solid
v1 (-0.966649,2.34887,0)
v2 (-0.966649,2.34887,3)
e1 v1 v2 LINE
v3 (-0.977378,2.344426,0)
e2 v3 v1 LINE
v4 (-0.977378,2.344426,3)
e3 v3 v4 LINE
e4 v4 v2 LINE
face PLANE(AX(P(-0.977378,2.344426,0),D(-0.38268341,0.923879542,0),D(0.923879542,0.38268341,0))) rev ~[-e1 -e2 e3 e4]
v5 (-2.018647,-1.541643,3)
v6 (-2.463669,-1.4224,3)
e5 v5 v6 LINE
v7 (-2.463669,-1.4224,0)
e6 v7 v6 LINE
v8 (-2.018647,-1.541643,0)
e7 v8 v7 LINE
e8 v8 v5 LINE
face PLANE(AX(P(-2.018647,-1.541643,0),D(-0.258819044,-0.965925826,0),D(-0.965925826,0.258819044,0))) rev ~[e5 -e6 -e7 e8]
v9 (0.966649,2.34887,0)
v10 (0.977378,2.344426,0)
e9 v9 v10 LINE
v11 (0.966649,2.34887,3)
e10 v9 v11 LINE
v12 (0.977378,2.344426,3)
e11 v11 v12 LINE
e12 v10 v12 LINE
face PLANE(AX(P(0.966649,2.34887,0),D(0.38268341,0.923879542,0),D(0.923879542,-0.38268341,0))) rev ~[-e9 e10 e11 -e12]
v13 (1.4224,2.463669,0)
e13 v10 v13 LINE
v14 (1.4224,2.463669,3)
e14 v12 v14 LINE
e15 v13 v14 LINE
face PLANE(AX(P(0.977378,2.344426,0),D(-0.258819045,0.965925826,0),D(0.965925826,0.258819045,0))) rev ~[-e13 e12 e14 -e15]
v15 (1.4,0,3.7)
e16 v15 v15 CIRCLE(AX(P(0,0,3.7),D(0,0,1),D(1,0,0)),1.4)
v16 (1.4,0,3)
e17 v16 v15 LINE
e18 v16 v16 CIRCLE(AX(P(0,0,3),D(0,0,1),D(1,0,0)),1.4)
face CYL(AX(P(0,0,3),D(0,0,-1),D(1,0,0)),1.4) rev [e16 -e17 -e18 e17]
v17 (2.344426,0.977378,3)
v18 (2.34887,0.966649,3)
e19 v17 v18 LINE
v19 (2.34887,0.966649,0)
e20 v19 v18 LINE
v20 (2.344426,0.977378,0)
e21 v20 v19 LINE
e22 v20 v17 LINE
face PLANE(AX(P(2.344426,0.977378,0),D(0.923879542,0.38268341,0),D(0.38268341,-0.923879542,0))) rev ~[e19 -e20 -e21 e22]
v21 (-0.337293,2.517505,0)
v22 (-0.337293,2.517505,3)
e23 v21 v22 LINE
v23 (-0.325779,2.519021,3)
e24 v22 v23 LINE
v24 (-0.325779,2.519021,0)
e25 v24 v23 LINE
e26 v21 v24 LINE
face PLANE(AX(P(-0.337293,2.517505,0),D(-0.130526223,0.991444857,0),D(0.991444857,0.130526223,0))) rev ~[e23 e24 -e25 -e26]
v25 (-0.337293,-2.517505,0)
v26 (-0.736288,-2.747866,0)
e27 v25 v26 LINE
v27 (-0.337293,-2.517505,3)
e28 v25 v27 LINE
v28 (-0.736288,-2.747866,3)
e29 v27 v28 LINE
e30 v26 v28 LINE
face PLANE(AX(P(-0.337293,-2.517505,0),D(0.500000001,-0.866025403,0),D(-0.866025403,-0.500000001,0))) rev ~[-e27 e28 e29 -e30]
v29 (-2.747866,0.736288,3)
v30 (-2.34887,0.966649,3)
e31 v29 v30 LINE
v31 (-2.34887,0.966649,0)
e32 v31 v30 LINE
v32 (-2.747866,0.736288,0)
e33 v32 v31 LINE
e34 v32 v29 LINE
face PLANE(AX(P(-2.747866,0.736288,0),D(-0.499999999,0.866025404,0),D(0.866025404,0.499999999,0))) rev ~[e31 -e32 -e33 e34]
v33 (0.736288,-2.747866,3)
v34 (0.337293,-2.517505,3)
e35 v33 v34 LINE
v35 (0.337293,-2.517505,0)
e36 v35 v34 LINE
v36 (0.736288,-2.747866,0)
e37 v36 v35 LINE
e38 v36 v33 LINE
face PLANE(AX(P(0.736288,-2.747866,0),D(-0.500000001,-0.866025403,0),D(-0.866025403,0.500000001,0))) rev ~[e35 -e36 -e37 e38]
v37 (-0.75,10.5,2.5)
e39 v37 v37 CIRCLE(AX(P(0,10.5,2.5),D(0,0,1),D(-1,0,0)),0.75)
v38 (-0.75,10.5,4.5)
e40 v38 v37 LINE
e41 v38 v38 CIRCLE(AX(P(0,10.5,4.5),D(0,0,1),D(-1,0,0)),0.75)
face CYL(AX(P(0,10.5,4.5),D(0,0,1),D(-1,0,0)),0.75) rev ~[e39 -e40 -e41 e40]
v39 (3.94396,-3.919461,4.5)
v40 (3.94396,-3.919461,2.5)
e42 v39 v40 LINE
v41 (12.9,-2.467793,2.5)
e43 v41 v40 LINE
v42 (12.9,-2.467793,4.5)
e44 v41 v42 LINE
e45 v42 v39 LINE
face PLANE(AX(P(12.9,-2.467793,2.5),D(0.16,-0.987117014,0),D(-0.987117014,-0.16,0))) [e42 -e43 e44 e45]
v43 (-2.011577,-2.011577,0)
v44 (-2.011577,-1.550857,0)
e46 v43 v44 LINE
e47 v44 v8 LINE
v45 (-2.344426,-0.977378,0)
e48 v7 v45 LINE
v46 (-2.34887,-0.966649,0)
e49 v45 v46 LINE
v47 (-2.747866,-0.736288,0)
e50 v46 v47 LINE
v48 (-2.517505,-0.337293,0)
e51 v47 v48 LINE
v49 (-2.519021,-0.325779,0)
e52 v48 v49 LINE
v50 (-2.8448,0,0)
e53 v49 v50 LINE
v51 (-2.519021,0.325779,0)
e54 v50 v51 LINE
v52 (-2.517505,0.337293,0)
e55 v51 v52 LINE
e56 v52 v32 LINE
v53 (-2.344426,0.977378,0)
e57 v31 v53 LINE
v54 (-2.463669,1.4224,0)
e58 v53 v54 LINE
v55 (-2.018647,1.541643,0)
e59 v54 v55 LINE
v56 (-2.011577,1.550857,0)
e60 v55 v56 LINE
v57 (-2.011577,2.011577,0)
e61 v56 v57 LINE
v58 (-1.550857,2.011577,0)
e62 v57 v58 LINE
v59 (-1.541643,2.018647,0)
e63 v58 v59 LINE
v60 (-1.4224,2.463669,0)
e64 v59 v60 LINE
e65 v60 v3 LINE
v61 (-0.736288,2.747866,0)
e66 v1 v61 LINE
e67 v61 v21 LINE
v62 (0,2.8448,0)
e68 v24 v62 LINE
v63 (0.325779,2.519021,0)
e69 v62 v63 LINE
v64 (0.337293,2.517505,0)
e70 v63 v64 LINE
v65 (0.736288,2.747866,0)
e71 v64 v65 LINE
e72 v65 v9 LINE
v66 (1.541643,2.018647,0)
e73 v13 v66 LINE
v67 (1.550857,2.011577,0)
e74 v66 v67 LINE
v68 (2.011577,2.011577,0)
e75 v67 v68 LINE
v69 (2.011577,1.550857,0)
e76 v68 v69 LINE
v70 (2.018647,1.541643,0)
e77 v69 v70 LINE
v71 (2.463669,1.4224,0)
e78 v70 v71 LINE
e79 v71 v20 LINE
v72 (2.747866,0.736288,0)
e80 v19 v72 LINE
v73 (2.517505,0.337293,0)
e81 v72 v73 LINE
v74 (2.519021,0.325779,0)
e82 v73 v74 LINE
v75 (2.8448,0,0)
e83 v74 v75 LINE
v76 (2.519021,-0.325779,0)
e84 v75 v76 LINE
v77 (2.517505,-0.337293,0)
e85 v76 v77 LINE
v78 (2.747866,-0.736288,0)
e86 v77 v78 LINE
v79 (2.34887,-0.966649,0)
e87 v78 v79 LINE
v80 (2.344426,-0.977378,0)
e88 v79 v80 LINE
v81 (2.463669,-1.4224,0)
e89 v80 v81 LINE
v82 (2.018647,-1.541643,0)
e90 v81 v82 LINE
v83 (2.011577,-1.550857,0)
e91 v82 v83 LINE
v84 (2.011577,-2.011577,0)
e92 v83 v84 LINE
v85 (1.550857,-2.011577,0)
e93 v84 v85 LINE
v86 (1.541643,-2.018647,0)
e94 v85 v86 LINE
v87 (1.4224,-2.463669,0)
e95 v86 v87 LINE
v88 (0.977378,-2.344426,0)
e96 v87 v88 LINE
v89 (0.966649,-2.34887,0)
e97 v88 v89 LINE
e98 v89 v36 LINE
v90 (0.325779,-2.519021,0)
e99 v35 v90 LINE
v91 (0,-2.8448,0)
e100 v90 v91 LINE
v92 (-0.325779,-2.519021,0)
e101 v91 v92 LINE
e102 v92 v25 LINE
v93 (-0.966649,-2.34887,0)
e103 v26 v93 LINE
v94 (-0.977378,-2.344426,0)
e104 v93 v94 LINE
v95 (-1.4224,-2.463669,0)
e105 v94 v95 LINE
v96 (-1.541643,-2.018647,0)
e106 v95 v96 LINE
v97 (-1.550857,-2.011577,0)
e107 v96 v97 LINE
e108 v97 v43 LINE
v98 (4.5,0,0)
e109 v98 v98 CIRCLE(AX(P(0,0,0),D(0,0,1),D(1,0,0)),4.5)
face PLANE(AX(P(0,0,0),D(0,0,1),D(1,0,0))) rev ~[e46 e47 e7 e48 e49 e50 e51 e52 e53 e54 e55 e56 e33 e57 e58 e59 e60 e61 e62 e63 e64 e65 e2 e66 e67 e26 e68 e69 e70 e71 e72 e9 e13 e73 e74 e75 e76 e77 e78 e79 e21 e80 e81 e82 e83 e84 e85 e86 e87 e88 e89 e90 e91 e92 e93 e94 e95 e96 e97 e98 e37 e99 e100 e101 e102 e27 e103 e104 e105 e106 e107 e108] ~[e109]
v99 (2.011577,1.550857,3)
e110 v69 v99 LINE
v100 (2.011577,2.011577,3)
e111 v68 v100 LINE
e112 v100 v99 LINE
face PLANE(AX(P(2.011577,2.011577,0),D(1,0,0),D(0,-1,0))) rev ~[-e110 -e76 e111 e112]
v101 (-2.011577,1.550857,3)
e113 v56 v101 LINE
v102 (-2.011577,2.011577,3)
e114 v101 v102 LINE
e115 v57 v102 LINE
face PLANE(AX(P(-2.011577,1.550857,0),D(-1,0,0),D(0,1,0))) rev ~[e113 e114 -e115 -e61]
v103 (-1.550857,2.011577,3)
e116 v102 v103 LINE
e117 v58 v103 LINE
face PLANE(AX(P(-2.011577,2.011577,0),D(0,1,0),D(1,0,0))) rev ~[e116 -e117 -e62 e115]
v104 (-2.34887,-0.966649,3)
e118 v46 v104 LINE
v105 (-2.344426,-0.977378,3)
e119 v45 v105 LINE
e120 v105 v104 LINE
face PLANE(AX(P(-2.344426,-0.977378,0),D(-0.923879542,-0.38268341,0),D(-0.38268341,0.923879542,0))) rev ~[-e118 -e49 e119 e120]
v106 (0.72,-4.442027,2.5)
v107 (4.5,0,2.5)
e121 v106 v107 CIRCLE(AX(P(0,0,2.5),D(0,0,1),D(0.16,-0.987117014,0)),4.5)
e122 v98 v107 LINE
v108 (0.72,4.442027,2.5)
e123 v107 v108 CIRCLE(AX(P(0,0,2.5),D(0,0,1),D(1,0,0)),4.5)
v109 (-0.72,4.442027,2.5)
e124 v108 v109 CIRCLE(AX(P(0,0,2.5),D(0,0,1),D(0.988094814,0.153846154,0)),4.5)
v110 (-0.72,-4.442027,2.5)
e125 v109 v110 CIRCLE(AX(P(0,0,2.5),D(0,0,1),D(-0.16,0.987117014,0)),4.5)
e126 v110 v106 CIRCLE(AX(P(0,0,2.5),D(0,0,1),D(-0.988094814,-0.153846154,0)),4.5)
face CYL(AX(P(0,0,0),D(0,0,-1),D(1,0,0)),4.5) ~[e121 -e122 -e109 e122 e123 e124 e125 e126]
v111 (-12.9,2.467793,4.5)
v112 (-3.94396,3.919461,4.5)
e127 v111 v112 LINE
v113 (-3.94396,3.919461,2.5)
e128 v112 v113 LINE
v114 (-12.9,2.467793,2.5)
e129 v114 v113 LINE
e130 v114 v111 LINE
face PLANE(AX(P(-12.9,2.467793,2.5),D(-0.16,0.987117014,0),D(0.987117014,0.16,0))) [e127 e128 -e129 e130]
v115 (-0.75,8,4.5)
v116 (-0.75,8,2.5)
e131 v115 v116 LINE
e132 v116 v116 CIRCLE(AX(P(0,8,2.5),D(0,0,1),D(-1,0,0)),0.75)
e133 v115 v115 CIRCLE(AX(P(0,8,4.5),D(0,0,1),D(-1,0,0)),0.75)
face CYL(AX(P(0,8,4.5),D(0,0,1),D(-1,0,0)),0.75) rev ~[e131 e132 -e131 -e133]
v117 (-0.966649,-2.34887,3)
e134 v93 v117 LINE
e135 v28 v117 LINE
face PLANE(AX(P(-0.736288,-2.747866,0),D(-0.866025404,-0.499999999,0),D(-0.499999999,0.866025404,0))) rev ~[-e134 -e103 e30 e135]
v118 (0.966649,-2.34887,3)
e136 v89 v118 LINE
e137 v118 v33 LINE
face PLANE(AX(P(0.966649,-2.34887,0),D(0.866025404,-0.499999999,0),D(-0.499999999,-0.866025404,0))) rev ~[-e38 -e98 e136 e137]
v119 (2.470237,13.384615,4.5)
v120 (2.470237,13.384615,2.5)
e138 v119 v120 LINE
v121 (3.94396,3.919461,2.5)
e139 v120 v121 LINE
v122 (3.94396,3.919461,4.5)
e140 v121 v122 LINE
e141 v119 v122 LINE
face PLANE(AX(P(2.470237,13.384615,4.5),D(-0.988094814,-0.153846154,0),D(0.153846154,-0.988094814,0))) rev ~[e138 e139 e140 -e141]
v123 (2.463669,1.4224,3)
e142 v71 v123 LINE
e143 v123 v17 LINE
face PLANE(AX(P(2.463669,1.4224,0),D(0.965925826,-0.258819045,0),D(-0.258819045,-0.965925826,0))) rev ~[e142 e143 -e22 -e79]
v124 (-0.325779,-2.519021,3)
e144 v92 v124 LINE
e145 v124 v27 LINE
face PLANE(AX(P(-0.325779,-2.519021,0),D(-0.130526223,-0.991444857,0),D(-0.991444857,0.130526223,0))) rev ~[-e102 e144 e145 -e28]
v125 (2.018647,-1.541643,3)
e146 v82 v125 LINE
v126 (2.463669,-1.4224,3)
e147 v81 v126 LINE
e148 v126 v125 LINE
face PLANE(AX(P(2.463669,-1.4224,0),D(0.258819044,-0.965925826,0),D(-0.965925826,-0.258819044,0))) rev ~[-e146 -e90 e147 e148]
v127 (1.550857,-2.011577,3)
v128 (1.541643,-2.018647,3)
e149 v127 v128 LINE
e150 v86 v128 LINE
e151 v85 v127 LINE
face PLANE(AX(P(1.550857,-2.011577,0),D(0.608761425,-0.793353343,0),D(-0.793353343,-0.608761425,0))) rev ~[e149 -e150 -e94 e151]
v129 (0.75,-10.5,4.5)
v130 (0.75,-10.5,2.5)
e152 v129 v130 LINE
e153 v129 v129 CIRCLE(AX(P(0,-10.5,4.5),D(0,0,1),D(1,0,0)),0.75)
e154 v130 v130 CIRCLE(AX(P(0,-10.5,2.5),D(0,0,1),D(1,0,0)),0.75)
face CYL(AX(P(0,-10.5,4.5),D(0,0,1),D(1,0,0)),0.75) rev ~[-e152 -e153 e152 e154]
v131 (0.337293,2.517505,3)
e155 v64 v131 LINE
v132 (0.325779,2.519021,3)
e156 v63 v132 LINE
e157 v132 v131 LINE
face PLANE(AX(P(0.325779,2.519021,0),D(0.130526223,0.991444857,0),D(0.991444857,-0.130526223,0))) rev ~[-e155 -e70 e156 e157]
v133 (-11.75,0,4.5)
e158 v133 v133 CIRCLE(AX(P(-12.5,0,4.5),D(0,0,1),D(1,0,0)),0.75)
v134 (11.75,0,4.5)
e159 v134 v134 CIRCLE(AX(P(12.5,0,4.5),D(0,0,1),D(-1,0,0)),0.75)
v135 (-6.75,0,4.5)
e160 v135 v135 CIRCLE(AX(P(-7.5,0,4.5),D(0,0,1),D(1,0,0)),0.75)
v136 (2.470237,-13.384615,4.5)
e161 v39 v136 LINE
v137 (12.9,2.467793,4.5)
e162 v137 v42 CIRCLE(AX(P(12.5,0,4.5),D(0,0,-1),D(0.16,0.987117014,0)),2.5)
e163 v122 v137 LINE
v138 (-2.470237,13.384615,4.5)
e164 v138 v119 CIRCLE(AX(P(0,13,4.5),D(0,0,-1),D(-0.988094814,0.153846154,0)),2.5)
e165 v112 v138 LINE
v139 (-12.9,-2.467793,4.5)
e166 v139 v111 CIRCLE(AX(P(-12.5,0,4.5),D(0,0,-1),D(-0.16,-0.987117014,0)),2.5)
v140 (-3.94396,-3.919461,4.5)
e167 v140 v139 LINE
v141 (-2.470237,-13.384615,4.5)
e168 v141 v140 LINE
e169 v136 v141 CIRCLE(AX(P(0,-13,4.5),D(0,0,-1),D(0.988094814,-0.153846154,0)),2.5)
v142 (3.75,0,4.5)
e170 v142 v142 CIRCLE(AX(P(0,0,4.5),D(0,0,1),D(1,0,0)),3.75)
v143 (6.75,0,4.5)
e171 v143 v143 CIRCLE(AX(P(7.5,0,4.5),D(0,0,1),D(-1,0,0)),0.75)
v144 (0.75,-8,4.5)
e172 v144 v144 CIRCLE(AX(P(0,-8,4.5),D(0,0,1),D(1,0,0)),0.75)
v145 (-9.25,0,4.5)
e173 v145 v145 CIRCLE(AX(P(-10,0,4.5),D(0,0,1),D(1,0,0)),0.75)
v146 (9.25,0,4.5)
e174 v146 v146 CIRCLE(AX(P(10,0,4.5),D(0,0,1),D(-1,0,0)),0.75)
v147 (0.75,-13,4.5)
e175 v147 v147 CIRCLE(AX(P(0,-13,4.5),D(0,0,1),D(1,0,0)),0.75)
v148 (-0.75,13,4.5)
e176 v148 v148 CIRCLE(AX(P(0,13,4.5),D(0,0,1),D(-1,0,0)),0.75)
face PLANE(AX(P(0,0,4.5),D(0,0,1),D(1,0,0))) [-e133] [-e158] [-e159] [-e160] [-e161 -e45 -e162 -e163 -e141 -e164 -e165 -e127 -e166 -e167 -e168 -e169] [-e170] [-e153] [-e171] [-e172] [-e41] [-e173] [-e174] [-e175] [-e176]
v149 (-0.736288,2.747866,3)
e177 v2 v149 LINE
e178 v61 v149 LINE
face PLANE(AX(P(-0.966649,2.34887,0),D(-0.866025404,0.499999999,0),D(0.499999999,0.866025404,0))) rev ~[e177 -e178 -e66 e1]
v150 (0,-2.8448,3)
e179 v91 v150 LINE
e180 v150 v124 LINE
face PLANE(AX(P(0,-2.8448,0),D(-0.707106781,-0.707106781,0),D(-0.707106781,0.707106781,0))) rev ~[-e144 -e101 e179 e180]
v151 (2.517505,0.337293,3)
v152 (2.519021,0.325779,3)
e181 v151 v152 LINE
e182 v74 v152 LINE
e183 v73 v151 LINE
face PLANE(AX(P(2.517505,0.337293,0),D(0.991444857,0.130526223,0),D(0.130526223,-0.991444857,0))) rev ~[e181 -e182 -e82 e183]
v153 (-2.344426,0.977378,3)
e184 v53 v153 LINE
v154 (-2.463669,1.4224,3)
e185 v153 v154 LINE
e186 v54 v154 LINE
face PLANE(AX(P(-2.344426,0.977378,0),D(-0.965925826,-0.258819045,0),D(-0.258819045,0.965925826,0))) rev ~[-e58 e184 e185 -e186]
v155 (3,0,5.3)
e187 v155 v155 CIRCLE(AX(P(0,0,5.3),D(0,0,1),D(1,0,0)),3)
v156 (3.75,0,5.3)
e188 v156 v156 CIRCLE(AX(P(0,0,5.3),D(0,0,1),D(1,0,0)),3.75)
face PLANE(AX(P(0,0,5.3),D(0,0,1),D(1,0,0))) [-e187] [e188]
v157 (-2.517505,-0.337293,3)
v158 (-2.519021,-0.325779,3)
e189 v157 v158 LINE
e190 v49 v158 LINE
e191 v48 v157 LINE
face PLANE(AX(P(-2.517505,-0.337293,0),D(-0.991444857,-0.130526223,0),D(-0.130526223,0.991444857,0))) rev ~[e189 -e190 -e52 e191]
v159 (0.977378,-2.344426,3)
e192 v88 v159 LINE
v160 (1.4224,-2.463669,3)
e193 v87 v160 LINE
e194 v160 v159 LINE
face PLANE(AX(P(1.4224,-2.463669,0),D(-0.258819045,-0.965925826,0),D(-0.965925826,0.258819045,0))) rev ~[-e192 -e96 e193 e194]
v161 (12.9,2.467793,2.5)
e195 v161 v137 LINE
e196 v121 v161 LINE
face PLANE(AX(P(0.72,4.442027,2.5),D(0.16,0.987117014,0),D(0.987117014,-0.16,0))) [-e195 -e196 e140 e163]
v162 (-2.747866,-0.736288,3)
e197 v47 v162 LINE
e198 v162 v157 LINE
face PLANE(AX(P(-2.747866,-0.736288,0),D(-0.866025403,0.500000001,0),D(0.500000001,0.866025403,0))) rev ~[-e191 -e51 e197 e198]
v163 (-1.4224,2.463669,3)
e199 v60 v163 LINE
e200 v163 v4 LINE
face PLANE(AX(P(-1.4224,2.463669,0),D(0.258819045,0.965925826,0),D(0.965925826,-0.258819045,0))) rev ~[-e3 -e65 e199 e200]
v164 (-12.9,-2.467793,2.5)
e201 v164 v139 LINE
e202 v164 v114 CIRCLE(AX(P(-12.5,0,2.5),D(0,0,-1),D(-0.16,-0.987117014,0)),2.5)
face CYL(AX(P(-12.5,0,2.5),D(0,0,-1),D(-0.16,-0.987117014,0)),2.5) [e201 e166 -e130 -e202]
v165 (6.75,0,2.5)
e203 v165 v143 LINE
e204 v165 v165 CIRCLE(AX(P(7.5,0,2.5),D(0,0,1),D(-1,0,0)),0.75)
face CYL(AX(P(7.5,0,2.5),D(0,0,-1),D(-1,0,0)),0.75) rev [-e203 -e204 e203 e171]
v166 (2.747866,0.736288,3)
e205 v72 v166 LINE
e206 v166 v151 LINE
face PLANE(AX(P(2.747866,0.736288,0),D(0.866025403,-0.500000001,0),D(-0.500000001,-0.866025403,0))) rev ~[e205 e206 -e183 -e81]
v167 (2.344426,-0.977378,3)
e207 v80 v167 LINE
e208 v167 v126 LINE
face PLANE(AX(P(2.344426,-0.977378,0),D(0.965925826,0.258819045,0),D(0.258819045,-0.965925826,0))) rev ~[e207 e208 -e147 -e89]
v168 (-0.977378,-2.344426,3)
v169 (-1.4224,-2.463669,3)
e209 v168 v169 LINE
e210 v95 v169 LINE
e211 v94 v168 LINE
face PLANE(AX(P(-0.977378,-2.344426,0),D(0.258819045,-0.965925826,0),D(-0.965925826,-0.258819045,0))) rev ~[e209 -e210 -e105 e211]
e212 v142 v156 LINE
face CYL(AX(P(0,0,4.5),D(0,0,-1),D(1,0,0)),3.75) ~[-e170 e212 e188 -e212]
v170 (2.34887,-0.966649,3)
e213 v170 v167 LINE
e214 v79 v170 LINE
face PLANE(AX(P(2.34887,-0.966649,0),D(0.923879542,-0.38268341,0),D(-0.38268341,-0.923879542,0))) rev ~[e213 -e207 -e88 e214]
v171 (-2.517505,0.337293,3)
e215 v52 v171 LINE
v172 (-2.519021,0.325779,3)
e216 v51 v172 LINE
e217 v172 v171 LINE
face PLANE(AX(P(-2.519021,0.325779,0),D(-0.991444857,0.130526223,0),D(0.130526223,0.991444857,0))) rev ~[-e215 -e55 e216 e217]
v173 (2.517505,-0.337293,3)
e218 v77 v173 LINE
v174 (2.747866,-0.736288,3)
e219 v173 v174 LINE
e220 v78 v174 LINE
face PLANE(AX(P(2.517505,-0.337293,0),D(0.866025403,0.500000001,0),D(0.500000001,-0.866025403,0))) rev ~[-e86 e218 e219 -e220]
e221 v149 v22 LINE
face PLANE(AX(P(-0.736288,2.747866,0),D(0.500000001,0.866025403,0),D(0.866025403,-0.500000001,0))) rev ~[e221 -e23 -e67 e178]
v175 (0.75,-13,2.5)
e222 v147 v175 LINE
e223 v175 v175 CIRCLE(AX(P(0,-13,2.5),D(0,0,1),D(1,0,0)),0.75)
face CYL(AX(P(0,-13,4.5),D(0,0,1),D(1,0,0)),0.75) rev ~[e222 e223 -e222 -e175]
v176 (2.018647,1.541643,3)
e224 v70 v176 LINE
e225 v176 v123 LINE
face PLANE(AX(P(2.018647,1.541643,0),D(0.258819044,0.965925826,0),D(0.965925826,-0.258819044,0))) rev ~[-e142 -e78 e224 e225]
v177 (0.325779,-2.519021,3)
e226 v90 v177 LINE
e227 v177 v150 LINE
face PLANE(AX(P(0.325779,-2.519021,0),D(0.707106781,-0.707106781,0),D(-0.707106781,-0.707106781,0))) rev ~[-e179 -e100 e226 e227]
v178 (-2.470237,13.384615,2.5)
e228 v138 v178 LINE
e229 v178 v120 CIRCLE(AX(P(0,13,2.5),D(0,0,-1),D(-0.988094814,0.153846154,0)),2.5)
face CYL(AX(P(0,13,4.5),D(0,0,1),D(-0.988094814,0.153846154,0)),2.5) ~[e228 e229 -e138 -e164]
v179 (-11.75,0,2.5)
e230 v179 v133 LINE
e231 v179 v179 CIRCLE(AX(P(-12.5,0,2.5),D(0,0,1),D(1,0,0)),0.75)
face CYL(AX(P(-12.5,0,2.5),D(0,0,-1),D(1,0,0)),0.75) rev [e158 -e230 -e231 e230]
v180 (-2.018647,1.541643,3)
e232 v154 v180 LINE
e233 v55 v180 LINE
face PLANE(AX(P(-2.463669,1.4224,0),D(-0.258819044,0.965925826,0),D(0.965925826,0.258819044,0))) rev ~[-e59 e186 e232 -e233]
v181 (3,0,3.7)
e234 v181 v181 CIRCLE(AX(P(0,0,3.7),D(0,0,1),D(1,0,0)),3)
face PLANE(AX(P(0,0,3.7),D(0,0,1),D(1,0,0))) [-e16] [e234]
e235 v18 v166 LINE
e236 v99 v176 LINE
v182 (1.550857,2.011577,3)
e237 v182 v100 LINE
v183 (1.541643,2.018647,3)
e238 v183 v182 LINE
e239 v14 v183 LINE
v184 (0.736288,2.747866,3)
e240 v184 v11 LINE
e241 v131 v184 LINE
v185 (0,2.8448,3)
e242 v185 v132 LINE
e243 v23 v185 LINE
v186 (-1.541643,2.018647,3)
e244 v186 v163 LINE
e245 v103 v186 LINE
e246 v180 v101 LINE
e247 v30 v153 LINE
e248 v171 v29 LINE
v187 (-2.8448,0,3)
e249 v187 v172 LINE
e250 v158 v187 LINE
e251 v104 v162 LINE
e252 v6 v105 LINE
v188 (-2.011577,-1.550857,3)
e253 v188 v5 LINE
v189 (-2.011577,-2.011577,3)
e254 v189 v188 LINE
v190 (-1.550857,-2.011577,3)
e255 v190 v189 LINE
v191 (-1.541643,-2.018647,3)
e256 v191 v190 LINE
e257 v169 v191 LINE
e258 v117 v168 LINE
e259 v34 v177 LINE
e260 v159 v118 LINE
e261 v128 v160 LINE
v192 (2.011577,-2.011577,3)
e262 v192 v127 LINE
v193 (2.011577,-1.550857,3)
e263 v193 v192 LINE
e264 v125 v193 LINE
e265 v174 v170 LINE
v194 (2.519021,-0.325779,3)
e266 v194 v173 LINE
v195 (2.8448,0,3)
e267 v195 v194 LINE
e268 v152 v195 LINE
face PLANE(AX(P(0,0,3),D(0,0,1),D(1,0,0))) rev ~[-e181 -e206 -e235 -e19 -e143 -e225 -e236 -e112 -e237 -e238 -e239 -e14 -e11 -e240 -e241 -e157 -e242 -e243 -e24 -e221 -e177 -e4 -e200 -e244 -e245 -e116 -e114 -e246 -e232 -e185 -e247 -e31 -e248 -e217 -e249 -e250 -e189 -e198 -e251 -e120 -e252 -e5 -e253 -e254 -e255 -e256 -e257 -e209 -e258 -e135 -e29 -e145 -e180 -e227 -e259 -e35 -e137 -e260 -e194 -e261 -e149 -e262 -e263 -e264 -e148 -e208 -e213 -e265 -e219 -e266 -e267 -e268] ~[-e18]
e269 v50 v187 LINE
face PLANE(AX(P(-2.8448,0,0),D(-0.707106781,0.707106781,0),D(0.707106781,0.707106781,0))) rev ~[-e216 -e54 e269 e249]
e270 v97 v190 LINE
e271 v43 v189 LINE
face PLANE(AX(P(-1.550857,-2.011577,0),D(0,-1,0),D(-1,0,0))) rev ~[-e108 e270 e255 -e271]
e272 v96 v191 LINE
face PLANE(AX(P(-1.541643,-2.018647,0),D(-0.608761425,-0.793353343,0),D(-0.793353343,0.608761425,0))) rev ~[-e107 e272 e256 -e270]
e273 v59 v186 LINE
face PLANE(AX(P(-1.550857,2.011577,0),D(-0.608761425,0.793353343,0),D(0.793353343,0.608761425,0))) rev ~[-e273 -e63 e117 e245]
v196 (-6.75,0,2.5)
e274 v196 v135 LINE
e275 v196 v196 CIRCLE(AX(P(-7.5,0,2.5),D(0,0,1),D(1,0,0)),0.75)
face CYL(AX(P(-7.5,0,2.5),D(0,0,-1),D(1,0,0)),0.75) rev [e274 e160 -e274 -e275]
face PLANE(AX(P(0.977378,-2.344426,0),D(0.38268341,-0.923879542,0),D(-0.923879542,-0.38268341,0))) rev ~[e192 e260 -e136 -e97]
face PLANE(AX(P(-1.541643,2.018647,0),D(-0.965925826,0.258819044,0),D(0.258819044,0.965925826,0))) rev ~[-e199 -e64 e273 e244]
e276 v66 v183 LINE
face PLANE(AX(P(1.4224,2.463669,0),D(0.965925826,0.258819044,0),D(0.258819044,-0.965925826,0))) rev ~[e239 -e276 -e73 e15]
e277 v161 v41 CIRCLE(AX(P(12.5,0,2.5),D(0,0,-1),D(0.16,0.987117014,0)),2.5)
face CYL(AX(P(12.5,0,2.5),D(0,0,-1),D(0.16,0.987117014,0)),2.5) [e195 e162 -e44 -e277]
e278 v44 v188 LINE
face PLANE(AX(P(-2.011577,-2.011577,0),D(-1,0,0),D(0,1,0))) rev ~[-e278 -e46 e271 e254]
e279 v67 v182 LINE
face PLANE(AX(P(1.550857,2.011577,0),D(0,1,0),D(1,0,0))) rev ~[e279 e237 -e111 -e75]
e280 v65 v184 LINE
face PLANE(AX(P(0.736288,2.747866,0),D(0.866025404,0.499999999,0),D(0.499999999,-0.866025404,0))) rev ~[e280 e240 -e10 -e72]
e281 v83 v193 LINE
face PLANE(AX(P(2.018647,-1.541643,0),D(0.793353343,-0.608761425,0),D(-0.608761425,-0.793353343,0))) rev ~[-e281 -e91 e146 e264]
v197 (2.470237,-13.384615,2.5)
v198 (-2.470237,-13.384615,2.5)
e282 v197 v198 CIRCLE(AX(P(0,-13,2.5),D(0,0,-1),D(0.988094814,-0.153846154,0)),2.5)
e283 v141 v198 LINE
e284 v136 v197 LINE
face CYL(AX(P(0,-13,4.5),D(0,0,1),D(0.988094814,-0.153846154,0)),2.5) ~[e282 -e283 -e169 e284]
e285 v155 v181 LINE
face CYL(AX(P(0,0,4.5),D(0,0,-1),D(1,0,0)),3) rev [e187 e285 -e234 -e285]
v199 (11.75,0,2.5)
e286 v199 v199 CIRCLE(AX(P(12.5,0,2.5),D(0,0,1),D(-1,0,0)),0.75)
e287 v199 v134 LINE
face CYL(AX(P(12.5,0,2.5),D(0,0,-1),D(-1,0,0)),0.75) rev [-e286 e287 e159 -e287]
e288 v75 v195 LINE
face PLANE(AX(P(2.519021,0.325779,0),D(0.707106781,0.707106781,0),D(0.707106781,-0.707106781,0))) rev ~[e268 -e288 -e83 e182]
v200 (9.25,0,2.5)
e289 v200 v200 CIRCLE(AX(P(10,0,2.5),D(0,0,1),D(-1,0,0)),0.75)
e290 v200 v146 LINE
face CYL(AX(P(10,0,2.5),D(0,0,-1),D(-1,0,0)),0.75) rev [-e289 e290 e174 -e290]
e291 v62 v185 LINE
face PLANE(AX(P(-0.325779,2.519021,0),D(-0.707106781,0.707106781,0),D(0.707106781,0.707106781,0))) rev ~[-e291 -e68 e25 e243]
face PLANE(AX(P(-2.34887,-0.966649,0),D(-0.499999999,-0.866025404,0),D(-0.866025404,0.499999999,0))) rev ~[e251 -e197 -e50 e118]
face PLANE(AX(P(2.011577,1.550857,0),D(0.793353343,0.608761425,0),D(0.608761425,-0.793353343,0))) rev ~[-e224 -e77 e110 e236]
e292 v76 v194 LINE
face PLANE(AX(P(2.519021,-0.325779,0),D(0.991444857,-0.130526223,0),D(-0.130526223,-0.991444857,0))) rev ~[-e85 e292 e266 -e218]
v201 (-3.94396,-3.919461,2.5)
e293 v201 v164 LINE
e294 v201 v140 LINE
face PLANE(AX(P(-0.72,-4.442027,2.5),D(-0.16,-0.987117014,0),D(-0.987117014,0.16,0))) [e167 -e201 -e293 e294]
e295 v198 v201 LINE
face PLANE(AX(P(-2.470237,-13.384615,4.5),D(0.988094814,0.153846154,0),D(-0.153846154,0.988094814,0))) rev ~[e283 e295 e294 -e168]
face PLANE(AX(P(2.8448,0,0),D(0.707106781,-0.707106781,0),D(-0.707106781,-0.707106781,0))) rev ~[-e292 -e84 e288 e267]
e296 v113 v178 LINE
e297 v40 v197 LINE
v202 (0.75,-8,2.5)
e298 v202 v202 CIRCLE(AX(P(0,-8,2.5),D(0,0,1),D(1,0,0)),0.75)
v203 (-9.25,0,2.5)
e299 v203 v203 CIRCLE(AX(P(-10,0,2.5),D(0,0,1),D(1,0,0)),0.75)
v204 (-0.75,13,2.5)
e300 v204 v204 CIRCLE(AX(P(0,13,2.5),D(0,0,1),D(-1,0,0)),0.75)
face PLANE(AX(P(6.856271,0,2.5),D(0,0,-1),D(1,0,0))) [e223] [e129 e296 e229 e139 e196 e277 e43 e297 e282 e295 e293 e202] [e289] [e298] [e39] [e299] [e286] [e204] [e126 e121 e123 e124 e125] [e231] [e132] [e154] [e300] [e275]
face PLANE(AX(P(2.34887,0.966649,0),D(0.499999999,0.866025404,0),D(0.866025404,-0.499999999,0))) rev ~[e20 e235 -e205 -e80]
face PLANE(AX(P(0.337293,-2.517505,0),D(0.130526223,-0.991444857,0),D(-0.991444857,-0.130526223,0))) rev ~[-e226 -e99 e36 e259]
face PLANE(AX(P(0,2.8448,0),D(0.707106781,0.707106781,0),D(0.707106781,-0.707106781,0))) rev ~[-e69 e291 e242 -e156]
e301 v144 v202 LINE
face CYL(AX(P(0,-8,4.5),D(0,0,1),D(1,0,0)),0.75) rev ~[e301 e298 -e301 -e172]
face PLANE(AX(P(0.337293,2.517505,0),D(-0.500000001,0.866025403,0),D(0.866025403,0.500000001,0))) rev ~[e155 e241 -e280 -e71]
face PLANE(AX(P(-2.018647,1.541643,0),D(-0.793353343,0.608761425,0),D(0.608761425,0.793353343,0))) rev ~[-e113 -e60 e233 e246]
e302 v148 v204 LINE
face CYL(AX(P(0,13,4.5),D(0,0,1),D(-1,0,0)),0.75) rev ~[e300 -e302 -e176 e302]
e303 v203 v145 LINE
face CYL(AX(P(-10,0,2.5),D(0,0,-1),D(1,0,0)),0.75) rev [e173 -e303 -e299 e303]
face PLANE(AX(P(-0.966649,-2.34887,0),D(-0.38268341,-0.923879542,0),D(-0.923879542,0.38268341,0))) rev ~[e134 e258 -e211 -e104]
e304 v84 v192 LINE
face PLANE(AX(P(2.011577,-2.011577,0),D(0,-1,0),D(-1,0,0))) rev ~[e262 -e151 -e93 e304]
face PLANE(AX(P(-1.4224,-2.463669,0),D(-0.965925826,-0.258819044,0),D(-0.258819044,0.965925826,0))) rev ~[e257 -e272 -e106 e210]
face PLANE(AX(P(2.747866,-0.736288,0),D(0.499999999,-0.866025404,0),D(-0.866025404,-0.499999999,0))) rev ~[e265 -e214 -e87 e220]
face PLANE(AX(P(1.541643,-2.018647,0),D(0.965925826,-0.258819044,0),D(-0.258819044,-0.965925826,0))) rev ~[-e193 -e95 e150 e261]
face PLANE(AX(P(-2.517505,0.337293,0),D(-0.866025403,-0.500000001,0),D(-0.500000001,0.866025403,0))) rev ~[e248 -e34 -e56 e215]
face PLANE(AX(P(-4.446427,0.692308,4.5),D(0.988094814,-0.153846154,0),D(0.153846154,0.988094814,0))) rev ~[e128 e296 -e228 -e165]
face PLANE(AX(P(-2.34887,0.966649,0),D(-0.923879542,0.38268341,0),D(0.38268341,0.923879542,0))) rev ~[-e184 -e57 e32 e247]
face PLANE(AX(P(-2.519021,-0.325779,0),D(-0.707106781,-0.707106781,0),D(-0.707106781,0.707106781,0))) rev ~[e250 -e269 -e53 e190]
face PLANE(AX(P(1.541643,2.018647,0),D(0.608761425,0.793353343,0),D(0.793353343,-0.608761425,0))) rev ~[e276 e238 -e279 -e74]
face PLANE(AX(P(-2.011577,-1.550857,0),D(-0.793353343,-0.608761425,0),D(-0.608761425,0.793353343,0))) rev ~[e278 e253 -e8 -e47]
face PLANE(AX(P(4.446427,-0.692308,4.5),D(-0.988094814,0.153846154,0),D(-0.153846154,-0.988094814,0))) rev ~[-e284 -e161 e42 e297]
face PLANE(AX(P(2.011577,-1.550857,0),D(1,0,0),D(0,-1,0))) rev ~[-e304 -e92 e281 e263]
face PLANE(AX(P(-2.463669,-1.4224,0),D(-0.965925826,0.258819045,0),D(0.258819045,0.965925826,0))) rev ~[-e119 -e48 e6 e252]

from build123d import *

# Parameters (mm, degrees)
ESQUISSE1_R                  = 4.5
BOSS_EXTRU_1_DEPTH           = 3
BOSS_EXTRU_2_START           = -0.5
ESQUISSE2_R                  = 0.75
BOSS_EXTRU_2_DEPTH           = 2
R_P_TITION_CIRCULAIRE1_COUNT = 2
ESQUISSE3_R                  = 0.75
BOSS_EXTRU_3_DEPTH           = 2
R_P_TITION_CIRCULAIRE2_COUNT = 2
ESQUISSE5_R                  = 4.5
ESQUISSE5_R_2                = 1.4
BOSS_EXTRU_4_DEPTH           = 0.7
ESQUISSE6_R                  = 4.5
ESQUISSE6_R_2                = 3
BOSS_EXTRU_5_DEPTH           = 0.8
ESQUISSE7_R                  = 3.75
ESQUISSE7_R_2                = 3
BOSS_EXTRU_6_DEPTH           = 0.8


with BuildPart() as part:
    # Esquisse1 → Boss.-Extru.1 (new body)
    with BuildSketch(Plane.XY):
        Circle(ESQUISSE1_R)
        Polygon((2.011577371, -1.550856692), (2.011577371, -2.011577371), (1.550856692, -2.011577371), (1.541643286, -2.018647066), (1.4224, -2.463669069), (0.977377998, -2.344425783), (0.966648759, -2.348869979), (0.73628842, -2.747865791), (0.337292608, -2.517505451), (0.325778716, -2.519021284), (0, -2.8448), (-0.325778716, -2.519021284), (-0.337292608, -2.517505451), (-0.73628842, -2.747865791), (-0.966648759, -2.348869979), (-0.977377998, -2.344425783), (-1.4224, -2.463669069), (-1.541643286, -2.018647066), (-1.550856692, -2.011577371), (-2.011577371, -2.011577371), (-2.011577371, -1.550856692), (-2.018647066, -1.541643286), (-2.463669069, -1.4224), (-2.344425783, -0.977377998), (-2.348869979, -0.966648759), (-2.747865791, -0.73628842), (-2.517505451, -0.337292608), (-2.519021284, -0.325778716), (-2.8448, 0), (-2.519021284, 0.325778716), (-2.517505451, 0.337292608), (-2.747865791, 0.73628842), (-2.348869979, 0.966648759), (-2.344425783, 0.977377998), (-2.463669069, 1.4224), (-2.018647066, 1.541643286), (-2.011577371, 1.550856692), (-2.011577371, 2.011577371), (-1.550856692, 2.011577371), (-1.541643286, 2.018647066), (-1.4224, 2.463669069), (-0.977377998, 2.344425783), (-0.966648759, 2.348869979), (-0.73628842, 2.747865791), (-0.337292608, 2.517505451), (-0.325778716, 2.519021284), (0, 2.8448), (0.325778716, 2.519021284), (0.337292608, 2.517505451), (0.73628842, 2.747865791), (0.966648759, 2.348869979), (0.977377998, 2.344425783), (1.4224, 2.463669069), (1.541643286, 2.018647066), (1.550856692, 2.011577371), (2.011577371, 2.011577371), (2.011577371, 1.550856692), (2.018647066, 1.541643286), (2.463669069, 1.4224), (2.344425783, 0.977377998), (2.348869979, 0.966648759), (2.747865791, 0.73628842), (2.517505451, 0.337292608), (2.519021284, 0.325778716), (2.8448, 0), (2.519021284, -0.325778716), (2.517505451, -0.337292608), (2.747865791, -0.73628842), (2.348869979, -0.966648759), (2.344425783, -0.977377998), (2.463669069, -1.4224), (2.018647066, -1.541643286), align=None, mode=Mode.SUBTRACT)
    extrude(amount=BOSS_EXTRU_1_DEPTH)

    # Esquisse2 → Boss.-Extru.2 (add)
    with BuildSketch(Plane.XY.offset(3).offset(BOSS_EXTRU_2_START)):
        with BuildLine():
            Line((-12.9, 2.467792536), (-0.72, 4.442026565))
            ThreePointArc((-0.72, 4.442026565), (-4.5, 0), (-0.72, -4.442026565))
            Line((-0.72, -4.442026565), (-12.9, -2.467792536))
            ThreePointArc((-12.9, -2.467792536), (-15, 0), (-12.9, 2.467792536))
        make_face()
        with Locations((-12.5, 0)):
            Circle(ESQUISSE2_R, mode=Mode.SUBTRACT)
        with Locations((-10, 0)):
            Circle(ESQUISSE2_R, mode=Mode.SUBTRACT)
        with Locations((-7.5, 0)):
            Circle(ESQUISSE2_R, mode=Mode.SUBTRACT)
    boss_extru_2 = extrude(amount=BOSS_EXTRU_2_DEPTH)

    # Répétition circulaire1: Boss.-Extru.2 ×2 about axis
    r_p_tition_circulaire1_axis = Axis((0, 0, 0), (0, 0, 1))
    for i in range(1, R_P_TITION_CIRCULAIRE1_COUNT):
        add(boss_extru_2.rotate(r_p_tition_circulaire1_axis, i * 360 / R_P_TITION_CIRCULAIRE1_COUNT))

    # Esquisse3 → Boss.-Extru.3 (add)
    with BuildSketch(Plane.XY.offset(4.5)):
        with BuildLine():
            Line((4.446426662, -0.692307692), (2.470237034, -13.384615385))
            ThreePointArc((2.470237034, -13.384615385), (0, -15.5), (-2.470237034, -13.384615385))
            Line((-2.470237034, -13.384615385), (-4.446426662, -0.692307692))
            ThreePointArc((-4.446426662, -0.692307692), (0, -4.5), (4.446426662, -0.692307692))
        make_face()
        with Locations((0, -13)):
            Circle(ESQUISSE3_R, mode=Mode.SUBTRACT)
        with Locations((0, -10.5)):
            Circle(ESQUISSE3_R, mode=Mode.SUBTRACT)
        with Locations((0, -8)):
            Circle(ESQUISSE3_R, mode=Mode.SUBTRACT)
    boss_extru_3 = extrude(amount=-BOSS_EXTRU_3_DEPTH)

    # Répétition circulaire2: Boss.-Extru.3 ×2 about axis
    r_p_tition_circulaire2_axis = Axis((0, 0, 0), (0, 0, 1))
    for i in range(1, R_P_TITION_CIRCULAIRE2_COUNT):
        add(boss_extru_3.rotate(r_p_tition_circulaire2_axis, i * 360 / R_P_TITION_CIRCULAIRE2_COUNT))

    # Esquisse5 → Boss.-Extru.4 (add)
    with BuildSketch(Plane.XY.offset(3)):
        Circle(ESQUISSE5_R)
        Circle(ESQUISSE5_R_2, mode=Mode.SUBTRACT)
    extrude(amount=BOSS_EXTRU_4_DEPTH)

    # Esquisse6 → Boss.-Extru.5 (add)
    with BuildSketch(Plane.XY.offset(3.7)):
        Circle(ESQUISSE6_R)
        Circle(ESQUISSE6_R_2, mode=Mode.SUBTRACT)
    extrude(amount=BOSS_EXTRU_5_DEPTH)

    # Esquisse7 → Boss.-Extru.6 (add)
    with BuildSketch(Plane.XY.offset(4.5)):
        Circle(ESQUISSE7_R)
        Circle(ESQUISSE7_R_2, mode=Mode.SUBTRACT)
    extrude(amount=BOSS_EXTRU_6_DEPTH)


solid = part.part
